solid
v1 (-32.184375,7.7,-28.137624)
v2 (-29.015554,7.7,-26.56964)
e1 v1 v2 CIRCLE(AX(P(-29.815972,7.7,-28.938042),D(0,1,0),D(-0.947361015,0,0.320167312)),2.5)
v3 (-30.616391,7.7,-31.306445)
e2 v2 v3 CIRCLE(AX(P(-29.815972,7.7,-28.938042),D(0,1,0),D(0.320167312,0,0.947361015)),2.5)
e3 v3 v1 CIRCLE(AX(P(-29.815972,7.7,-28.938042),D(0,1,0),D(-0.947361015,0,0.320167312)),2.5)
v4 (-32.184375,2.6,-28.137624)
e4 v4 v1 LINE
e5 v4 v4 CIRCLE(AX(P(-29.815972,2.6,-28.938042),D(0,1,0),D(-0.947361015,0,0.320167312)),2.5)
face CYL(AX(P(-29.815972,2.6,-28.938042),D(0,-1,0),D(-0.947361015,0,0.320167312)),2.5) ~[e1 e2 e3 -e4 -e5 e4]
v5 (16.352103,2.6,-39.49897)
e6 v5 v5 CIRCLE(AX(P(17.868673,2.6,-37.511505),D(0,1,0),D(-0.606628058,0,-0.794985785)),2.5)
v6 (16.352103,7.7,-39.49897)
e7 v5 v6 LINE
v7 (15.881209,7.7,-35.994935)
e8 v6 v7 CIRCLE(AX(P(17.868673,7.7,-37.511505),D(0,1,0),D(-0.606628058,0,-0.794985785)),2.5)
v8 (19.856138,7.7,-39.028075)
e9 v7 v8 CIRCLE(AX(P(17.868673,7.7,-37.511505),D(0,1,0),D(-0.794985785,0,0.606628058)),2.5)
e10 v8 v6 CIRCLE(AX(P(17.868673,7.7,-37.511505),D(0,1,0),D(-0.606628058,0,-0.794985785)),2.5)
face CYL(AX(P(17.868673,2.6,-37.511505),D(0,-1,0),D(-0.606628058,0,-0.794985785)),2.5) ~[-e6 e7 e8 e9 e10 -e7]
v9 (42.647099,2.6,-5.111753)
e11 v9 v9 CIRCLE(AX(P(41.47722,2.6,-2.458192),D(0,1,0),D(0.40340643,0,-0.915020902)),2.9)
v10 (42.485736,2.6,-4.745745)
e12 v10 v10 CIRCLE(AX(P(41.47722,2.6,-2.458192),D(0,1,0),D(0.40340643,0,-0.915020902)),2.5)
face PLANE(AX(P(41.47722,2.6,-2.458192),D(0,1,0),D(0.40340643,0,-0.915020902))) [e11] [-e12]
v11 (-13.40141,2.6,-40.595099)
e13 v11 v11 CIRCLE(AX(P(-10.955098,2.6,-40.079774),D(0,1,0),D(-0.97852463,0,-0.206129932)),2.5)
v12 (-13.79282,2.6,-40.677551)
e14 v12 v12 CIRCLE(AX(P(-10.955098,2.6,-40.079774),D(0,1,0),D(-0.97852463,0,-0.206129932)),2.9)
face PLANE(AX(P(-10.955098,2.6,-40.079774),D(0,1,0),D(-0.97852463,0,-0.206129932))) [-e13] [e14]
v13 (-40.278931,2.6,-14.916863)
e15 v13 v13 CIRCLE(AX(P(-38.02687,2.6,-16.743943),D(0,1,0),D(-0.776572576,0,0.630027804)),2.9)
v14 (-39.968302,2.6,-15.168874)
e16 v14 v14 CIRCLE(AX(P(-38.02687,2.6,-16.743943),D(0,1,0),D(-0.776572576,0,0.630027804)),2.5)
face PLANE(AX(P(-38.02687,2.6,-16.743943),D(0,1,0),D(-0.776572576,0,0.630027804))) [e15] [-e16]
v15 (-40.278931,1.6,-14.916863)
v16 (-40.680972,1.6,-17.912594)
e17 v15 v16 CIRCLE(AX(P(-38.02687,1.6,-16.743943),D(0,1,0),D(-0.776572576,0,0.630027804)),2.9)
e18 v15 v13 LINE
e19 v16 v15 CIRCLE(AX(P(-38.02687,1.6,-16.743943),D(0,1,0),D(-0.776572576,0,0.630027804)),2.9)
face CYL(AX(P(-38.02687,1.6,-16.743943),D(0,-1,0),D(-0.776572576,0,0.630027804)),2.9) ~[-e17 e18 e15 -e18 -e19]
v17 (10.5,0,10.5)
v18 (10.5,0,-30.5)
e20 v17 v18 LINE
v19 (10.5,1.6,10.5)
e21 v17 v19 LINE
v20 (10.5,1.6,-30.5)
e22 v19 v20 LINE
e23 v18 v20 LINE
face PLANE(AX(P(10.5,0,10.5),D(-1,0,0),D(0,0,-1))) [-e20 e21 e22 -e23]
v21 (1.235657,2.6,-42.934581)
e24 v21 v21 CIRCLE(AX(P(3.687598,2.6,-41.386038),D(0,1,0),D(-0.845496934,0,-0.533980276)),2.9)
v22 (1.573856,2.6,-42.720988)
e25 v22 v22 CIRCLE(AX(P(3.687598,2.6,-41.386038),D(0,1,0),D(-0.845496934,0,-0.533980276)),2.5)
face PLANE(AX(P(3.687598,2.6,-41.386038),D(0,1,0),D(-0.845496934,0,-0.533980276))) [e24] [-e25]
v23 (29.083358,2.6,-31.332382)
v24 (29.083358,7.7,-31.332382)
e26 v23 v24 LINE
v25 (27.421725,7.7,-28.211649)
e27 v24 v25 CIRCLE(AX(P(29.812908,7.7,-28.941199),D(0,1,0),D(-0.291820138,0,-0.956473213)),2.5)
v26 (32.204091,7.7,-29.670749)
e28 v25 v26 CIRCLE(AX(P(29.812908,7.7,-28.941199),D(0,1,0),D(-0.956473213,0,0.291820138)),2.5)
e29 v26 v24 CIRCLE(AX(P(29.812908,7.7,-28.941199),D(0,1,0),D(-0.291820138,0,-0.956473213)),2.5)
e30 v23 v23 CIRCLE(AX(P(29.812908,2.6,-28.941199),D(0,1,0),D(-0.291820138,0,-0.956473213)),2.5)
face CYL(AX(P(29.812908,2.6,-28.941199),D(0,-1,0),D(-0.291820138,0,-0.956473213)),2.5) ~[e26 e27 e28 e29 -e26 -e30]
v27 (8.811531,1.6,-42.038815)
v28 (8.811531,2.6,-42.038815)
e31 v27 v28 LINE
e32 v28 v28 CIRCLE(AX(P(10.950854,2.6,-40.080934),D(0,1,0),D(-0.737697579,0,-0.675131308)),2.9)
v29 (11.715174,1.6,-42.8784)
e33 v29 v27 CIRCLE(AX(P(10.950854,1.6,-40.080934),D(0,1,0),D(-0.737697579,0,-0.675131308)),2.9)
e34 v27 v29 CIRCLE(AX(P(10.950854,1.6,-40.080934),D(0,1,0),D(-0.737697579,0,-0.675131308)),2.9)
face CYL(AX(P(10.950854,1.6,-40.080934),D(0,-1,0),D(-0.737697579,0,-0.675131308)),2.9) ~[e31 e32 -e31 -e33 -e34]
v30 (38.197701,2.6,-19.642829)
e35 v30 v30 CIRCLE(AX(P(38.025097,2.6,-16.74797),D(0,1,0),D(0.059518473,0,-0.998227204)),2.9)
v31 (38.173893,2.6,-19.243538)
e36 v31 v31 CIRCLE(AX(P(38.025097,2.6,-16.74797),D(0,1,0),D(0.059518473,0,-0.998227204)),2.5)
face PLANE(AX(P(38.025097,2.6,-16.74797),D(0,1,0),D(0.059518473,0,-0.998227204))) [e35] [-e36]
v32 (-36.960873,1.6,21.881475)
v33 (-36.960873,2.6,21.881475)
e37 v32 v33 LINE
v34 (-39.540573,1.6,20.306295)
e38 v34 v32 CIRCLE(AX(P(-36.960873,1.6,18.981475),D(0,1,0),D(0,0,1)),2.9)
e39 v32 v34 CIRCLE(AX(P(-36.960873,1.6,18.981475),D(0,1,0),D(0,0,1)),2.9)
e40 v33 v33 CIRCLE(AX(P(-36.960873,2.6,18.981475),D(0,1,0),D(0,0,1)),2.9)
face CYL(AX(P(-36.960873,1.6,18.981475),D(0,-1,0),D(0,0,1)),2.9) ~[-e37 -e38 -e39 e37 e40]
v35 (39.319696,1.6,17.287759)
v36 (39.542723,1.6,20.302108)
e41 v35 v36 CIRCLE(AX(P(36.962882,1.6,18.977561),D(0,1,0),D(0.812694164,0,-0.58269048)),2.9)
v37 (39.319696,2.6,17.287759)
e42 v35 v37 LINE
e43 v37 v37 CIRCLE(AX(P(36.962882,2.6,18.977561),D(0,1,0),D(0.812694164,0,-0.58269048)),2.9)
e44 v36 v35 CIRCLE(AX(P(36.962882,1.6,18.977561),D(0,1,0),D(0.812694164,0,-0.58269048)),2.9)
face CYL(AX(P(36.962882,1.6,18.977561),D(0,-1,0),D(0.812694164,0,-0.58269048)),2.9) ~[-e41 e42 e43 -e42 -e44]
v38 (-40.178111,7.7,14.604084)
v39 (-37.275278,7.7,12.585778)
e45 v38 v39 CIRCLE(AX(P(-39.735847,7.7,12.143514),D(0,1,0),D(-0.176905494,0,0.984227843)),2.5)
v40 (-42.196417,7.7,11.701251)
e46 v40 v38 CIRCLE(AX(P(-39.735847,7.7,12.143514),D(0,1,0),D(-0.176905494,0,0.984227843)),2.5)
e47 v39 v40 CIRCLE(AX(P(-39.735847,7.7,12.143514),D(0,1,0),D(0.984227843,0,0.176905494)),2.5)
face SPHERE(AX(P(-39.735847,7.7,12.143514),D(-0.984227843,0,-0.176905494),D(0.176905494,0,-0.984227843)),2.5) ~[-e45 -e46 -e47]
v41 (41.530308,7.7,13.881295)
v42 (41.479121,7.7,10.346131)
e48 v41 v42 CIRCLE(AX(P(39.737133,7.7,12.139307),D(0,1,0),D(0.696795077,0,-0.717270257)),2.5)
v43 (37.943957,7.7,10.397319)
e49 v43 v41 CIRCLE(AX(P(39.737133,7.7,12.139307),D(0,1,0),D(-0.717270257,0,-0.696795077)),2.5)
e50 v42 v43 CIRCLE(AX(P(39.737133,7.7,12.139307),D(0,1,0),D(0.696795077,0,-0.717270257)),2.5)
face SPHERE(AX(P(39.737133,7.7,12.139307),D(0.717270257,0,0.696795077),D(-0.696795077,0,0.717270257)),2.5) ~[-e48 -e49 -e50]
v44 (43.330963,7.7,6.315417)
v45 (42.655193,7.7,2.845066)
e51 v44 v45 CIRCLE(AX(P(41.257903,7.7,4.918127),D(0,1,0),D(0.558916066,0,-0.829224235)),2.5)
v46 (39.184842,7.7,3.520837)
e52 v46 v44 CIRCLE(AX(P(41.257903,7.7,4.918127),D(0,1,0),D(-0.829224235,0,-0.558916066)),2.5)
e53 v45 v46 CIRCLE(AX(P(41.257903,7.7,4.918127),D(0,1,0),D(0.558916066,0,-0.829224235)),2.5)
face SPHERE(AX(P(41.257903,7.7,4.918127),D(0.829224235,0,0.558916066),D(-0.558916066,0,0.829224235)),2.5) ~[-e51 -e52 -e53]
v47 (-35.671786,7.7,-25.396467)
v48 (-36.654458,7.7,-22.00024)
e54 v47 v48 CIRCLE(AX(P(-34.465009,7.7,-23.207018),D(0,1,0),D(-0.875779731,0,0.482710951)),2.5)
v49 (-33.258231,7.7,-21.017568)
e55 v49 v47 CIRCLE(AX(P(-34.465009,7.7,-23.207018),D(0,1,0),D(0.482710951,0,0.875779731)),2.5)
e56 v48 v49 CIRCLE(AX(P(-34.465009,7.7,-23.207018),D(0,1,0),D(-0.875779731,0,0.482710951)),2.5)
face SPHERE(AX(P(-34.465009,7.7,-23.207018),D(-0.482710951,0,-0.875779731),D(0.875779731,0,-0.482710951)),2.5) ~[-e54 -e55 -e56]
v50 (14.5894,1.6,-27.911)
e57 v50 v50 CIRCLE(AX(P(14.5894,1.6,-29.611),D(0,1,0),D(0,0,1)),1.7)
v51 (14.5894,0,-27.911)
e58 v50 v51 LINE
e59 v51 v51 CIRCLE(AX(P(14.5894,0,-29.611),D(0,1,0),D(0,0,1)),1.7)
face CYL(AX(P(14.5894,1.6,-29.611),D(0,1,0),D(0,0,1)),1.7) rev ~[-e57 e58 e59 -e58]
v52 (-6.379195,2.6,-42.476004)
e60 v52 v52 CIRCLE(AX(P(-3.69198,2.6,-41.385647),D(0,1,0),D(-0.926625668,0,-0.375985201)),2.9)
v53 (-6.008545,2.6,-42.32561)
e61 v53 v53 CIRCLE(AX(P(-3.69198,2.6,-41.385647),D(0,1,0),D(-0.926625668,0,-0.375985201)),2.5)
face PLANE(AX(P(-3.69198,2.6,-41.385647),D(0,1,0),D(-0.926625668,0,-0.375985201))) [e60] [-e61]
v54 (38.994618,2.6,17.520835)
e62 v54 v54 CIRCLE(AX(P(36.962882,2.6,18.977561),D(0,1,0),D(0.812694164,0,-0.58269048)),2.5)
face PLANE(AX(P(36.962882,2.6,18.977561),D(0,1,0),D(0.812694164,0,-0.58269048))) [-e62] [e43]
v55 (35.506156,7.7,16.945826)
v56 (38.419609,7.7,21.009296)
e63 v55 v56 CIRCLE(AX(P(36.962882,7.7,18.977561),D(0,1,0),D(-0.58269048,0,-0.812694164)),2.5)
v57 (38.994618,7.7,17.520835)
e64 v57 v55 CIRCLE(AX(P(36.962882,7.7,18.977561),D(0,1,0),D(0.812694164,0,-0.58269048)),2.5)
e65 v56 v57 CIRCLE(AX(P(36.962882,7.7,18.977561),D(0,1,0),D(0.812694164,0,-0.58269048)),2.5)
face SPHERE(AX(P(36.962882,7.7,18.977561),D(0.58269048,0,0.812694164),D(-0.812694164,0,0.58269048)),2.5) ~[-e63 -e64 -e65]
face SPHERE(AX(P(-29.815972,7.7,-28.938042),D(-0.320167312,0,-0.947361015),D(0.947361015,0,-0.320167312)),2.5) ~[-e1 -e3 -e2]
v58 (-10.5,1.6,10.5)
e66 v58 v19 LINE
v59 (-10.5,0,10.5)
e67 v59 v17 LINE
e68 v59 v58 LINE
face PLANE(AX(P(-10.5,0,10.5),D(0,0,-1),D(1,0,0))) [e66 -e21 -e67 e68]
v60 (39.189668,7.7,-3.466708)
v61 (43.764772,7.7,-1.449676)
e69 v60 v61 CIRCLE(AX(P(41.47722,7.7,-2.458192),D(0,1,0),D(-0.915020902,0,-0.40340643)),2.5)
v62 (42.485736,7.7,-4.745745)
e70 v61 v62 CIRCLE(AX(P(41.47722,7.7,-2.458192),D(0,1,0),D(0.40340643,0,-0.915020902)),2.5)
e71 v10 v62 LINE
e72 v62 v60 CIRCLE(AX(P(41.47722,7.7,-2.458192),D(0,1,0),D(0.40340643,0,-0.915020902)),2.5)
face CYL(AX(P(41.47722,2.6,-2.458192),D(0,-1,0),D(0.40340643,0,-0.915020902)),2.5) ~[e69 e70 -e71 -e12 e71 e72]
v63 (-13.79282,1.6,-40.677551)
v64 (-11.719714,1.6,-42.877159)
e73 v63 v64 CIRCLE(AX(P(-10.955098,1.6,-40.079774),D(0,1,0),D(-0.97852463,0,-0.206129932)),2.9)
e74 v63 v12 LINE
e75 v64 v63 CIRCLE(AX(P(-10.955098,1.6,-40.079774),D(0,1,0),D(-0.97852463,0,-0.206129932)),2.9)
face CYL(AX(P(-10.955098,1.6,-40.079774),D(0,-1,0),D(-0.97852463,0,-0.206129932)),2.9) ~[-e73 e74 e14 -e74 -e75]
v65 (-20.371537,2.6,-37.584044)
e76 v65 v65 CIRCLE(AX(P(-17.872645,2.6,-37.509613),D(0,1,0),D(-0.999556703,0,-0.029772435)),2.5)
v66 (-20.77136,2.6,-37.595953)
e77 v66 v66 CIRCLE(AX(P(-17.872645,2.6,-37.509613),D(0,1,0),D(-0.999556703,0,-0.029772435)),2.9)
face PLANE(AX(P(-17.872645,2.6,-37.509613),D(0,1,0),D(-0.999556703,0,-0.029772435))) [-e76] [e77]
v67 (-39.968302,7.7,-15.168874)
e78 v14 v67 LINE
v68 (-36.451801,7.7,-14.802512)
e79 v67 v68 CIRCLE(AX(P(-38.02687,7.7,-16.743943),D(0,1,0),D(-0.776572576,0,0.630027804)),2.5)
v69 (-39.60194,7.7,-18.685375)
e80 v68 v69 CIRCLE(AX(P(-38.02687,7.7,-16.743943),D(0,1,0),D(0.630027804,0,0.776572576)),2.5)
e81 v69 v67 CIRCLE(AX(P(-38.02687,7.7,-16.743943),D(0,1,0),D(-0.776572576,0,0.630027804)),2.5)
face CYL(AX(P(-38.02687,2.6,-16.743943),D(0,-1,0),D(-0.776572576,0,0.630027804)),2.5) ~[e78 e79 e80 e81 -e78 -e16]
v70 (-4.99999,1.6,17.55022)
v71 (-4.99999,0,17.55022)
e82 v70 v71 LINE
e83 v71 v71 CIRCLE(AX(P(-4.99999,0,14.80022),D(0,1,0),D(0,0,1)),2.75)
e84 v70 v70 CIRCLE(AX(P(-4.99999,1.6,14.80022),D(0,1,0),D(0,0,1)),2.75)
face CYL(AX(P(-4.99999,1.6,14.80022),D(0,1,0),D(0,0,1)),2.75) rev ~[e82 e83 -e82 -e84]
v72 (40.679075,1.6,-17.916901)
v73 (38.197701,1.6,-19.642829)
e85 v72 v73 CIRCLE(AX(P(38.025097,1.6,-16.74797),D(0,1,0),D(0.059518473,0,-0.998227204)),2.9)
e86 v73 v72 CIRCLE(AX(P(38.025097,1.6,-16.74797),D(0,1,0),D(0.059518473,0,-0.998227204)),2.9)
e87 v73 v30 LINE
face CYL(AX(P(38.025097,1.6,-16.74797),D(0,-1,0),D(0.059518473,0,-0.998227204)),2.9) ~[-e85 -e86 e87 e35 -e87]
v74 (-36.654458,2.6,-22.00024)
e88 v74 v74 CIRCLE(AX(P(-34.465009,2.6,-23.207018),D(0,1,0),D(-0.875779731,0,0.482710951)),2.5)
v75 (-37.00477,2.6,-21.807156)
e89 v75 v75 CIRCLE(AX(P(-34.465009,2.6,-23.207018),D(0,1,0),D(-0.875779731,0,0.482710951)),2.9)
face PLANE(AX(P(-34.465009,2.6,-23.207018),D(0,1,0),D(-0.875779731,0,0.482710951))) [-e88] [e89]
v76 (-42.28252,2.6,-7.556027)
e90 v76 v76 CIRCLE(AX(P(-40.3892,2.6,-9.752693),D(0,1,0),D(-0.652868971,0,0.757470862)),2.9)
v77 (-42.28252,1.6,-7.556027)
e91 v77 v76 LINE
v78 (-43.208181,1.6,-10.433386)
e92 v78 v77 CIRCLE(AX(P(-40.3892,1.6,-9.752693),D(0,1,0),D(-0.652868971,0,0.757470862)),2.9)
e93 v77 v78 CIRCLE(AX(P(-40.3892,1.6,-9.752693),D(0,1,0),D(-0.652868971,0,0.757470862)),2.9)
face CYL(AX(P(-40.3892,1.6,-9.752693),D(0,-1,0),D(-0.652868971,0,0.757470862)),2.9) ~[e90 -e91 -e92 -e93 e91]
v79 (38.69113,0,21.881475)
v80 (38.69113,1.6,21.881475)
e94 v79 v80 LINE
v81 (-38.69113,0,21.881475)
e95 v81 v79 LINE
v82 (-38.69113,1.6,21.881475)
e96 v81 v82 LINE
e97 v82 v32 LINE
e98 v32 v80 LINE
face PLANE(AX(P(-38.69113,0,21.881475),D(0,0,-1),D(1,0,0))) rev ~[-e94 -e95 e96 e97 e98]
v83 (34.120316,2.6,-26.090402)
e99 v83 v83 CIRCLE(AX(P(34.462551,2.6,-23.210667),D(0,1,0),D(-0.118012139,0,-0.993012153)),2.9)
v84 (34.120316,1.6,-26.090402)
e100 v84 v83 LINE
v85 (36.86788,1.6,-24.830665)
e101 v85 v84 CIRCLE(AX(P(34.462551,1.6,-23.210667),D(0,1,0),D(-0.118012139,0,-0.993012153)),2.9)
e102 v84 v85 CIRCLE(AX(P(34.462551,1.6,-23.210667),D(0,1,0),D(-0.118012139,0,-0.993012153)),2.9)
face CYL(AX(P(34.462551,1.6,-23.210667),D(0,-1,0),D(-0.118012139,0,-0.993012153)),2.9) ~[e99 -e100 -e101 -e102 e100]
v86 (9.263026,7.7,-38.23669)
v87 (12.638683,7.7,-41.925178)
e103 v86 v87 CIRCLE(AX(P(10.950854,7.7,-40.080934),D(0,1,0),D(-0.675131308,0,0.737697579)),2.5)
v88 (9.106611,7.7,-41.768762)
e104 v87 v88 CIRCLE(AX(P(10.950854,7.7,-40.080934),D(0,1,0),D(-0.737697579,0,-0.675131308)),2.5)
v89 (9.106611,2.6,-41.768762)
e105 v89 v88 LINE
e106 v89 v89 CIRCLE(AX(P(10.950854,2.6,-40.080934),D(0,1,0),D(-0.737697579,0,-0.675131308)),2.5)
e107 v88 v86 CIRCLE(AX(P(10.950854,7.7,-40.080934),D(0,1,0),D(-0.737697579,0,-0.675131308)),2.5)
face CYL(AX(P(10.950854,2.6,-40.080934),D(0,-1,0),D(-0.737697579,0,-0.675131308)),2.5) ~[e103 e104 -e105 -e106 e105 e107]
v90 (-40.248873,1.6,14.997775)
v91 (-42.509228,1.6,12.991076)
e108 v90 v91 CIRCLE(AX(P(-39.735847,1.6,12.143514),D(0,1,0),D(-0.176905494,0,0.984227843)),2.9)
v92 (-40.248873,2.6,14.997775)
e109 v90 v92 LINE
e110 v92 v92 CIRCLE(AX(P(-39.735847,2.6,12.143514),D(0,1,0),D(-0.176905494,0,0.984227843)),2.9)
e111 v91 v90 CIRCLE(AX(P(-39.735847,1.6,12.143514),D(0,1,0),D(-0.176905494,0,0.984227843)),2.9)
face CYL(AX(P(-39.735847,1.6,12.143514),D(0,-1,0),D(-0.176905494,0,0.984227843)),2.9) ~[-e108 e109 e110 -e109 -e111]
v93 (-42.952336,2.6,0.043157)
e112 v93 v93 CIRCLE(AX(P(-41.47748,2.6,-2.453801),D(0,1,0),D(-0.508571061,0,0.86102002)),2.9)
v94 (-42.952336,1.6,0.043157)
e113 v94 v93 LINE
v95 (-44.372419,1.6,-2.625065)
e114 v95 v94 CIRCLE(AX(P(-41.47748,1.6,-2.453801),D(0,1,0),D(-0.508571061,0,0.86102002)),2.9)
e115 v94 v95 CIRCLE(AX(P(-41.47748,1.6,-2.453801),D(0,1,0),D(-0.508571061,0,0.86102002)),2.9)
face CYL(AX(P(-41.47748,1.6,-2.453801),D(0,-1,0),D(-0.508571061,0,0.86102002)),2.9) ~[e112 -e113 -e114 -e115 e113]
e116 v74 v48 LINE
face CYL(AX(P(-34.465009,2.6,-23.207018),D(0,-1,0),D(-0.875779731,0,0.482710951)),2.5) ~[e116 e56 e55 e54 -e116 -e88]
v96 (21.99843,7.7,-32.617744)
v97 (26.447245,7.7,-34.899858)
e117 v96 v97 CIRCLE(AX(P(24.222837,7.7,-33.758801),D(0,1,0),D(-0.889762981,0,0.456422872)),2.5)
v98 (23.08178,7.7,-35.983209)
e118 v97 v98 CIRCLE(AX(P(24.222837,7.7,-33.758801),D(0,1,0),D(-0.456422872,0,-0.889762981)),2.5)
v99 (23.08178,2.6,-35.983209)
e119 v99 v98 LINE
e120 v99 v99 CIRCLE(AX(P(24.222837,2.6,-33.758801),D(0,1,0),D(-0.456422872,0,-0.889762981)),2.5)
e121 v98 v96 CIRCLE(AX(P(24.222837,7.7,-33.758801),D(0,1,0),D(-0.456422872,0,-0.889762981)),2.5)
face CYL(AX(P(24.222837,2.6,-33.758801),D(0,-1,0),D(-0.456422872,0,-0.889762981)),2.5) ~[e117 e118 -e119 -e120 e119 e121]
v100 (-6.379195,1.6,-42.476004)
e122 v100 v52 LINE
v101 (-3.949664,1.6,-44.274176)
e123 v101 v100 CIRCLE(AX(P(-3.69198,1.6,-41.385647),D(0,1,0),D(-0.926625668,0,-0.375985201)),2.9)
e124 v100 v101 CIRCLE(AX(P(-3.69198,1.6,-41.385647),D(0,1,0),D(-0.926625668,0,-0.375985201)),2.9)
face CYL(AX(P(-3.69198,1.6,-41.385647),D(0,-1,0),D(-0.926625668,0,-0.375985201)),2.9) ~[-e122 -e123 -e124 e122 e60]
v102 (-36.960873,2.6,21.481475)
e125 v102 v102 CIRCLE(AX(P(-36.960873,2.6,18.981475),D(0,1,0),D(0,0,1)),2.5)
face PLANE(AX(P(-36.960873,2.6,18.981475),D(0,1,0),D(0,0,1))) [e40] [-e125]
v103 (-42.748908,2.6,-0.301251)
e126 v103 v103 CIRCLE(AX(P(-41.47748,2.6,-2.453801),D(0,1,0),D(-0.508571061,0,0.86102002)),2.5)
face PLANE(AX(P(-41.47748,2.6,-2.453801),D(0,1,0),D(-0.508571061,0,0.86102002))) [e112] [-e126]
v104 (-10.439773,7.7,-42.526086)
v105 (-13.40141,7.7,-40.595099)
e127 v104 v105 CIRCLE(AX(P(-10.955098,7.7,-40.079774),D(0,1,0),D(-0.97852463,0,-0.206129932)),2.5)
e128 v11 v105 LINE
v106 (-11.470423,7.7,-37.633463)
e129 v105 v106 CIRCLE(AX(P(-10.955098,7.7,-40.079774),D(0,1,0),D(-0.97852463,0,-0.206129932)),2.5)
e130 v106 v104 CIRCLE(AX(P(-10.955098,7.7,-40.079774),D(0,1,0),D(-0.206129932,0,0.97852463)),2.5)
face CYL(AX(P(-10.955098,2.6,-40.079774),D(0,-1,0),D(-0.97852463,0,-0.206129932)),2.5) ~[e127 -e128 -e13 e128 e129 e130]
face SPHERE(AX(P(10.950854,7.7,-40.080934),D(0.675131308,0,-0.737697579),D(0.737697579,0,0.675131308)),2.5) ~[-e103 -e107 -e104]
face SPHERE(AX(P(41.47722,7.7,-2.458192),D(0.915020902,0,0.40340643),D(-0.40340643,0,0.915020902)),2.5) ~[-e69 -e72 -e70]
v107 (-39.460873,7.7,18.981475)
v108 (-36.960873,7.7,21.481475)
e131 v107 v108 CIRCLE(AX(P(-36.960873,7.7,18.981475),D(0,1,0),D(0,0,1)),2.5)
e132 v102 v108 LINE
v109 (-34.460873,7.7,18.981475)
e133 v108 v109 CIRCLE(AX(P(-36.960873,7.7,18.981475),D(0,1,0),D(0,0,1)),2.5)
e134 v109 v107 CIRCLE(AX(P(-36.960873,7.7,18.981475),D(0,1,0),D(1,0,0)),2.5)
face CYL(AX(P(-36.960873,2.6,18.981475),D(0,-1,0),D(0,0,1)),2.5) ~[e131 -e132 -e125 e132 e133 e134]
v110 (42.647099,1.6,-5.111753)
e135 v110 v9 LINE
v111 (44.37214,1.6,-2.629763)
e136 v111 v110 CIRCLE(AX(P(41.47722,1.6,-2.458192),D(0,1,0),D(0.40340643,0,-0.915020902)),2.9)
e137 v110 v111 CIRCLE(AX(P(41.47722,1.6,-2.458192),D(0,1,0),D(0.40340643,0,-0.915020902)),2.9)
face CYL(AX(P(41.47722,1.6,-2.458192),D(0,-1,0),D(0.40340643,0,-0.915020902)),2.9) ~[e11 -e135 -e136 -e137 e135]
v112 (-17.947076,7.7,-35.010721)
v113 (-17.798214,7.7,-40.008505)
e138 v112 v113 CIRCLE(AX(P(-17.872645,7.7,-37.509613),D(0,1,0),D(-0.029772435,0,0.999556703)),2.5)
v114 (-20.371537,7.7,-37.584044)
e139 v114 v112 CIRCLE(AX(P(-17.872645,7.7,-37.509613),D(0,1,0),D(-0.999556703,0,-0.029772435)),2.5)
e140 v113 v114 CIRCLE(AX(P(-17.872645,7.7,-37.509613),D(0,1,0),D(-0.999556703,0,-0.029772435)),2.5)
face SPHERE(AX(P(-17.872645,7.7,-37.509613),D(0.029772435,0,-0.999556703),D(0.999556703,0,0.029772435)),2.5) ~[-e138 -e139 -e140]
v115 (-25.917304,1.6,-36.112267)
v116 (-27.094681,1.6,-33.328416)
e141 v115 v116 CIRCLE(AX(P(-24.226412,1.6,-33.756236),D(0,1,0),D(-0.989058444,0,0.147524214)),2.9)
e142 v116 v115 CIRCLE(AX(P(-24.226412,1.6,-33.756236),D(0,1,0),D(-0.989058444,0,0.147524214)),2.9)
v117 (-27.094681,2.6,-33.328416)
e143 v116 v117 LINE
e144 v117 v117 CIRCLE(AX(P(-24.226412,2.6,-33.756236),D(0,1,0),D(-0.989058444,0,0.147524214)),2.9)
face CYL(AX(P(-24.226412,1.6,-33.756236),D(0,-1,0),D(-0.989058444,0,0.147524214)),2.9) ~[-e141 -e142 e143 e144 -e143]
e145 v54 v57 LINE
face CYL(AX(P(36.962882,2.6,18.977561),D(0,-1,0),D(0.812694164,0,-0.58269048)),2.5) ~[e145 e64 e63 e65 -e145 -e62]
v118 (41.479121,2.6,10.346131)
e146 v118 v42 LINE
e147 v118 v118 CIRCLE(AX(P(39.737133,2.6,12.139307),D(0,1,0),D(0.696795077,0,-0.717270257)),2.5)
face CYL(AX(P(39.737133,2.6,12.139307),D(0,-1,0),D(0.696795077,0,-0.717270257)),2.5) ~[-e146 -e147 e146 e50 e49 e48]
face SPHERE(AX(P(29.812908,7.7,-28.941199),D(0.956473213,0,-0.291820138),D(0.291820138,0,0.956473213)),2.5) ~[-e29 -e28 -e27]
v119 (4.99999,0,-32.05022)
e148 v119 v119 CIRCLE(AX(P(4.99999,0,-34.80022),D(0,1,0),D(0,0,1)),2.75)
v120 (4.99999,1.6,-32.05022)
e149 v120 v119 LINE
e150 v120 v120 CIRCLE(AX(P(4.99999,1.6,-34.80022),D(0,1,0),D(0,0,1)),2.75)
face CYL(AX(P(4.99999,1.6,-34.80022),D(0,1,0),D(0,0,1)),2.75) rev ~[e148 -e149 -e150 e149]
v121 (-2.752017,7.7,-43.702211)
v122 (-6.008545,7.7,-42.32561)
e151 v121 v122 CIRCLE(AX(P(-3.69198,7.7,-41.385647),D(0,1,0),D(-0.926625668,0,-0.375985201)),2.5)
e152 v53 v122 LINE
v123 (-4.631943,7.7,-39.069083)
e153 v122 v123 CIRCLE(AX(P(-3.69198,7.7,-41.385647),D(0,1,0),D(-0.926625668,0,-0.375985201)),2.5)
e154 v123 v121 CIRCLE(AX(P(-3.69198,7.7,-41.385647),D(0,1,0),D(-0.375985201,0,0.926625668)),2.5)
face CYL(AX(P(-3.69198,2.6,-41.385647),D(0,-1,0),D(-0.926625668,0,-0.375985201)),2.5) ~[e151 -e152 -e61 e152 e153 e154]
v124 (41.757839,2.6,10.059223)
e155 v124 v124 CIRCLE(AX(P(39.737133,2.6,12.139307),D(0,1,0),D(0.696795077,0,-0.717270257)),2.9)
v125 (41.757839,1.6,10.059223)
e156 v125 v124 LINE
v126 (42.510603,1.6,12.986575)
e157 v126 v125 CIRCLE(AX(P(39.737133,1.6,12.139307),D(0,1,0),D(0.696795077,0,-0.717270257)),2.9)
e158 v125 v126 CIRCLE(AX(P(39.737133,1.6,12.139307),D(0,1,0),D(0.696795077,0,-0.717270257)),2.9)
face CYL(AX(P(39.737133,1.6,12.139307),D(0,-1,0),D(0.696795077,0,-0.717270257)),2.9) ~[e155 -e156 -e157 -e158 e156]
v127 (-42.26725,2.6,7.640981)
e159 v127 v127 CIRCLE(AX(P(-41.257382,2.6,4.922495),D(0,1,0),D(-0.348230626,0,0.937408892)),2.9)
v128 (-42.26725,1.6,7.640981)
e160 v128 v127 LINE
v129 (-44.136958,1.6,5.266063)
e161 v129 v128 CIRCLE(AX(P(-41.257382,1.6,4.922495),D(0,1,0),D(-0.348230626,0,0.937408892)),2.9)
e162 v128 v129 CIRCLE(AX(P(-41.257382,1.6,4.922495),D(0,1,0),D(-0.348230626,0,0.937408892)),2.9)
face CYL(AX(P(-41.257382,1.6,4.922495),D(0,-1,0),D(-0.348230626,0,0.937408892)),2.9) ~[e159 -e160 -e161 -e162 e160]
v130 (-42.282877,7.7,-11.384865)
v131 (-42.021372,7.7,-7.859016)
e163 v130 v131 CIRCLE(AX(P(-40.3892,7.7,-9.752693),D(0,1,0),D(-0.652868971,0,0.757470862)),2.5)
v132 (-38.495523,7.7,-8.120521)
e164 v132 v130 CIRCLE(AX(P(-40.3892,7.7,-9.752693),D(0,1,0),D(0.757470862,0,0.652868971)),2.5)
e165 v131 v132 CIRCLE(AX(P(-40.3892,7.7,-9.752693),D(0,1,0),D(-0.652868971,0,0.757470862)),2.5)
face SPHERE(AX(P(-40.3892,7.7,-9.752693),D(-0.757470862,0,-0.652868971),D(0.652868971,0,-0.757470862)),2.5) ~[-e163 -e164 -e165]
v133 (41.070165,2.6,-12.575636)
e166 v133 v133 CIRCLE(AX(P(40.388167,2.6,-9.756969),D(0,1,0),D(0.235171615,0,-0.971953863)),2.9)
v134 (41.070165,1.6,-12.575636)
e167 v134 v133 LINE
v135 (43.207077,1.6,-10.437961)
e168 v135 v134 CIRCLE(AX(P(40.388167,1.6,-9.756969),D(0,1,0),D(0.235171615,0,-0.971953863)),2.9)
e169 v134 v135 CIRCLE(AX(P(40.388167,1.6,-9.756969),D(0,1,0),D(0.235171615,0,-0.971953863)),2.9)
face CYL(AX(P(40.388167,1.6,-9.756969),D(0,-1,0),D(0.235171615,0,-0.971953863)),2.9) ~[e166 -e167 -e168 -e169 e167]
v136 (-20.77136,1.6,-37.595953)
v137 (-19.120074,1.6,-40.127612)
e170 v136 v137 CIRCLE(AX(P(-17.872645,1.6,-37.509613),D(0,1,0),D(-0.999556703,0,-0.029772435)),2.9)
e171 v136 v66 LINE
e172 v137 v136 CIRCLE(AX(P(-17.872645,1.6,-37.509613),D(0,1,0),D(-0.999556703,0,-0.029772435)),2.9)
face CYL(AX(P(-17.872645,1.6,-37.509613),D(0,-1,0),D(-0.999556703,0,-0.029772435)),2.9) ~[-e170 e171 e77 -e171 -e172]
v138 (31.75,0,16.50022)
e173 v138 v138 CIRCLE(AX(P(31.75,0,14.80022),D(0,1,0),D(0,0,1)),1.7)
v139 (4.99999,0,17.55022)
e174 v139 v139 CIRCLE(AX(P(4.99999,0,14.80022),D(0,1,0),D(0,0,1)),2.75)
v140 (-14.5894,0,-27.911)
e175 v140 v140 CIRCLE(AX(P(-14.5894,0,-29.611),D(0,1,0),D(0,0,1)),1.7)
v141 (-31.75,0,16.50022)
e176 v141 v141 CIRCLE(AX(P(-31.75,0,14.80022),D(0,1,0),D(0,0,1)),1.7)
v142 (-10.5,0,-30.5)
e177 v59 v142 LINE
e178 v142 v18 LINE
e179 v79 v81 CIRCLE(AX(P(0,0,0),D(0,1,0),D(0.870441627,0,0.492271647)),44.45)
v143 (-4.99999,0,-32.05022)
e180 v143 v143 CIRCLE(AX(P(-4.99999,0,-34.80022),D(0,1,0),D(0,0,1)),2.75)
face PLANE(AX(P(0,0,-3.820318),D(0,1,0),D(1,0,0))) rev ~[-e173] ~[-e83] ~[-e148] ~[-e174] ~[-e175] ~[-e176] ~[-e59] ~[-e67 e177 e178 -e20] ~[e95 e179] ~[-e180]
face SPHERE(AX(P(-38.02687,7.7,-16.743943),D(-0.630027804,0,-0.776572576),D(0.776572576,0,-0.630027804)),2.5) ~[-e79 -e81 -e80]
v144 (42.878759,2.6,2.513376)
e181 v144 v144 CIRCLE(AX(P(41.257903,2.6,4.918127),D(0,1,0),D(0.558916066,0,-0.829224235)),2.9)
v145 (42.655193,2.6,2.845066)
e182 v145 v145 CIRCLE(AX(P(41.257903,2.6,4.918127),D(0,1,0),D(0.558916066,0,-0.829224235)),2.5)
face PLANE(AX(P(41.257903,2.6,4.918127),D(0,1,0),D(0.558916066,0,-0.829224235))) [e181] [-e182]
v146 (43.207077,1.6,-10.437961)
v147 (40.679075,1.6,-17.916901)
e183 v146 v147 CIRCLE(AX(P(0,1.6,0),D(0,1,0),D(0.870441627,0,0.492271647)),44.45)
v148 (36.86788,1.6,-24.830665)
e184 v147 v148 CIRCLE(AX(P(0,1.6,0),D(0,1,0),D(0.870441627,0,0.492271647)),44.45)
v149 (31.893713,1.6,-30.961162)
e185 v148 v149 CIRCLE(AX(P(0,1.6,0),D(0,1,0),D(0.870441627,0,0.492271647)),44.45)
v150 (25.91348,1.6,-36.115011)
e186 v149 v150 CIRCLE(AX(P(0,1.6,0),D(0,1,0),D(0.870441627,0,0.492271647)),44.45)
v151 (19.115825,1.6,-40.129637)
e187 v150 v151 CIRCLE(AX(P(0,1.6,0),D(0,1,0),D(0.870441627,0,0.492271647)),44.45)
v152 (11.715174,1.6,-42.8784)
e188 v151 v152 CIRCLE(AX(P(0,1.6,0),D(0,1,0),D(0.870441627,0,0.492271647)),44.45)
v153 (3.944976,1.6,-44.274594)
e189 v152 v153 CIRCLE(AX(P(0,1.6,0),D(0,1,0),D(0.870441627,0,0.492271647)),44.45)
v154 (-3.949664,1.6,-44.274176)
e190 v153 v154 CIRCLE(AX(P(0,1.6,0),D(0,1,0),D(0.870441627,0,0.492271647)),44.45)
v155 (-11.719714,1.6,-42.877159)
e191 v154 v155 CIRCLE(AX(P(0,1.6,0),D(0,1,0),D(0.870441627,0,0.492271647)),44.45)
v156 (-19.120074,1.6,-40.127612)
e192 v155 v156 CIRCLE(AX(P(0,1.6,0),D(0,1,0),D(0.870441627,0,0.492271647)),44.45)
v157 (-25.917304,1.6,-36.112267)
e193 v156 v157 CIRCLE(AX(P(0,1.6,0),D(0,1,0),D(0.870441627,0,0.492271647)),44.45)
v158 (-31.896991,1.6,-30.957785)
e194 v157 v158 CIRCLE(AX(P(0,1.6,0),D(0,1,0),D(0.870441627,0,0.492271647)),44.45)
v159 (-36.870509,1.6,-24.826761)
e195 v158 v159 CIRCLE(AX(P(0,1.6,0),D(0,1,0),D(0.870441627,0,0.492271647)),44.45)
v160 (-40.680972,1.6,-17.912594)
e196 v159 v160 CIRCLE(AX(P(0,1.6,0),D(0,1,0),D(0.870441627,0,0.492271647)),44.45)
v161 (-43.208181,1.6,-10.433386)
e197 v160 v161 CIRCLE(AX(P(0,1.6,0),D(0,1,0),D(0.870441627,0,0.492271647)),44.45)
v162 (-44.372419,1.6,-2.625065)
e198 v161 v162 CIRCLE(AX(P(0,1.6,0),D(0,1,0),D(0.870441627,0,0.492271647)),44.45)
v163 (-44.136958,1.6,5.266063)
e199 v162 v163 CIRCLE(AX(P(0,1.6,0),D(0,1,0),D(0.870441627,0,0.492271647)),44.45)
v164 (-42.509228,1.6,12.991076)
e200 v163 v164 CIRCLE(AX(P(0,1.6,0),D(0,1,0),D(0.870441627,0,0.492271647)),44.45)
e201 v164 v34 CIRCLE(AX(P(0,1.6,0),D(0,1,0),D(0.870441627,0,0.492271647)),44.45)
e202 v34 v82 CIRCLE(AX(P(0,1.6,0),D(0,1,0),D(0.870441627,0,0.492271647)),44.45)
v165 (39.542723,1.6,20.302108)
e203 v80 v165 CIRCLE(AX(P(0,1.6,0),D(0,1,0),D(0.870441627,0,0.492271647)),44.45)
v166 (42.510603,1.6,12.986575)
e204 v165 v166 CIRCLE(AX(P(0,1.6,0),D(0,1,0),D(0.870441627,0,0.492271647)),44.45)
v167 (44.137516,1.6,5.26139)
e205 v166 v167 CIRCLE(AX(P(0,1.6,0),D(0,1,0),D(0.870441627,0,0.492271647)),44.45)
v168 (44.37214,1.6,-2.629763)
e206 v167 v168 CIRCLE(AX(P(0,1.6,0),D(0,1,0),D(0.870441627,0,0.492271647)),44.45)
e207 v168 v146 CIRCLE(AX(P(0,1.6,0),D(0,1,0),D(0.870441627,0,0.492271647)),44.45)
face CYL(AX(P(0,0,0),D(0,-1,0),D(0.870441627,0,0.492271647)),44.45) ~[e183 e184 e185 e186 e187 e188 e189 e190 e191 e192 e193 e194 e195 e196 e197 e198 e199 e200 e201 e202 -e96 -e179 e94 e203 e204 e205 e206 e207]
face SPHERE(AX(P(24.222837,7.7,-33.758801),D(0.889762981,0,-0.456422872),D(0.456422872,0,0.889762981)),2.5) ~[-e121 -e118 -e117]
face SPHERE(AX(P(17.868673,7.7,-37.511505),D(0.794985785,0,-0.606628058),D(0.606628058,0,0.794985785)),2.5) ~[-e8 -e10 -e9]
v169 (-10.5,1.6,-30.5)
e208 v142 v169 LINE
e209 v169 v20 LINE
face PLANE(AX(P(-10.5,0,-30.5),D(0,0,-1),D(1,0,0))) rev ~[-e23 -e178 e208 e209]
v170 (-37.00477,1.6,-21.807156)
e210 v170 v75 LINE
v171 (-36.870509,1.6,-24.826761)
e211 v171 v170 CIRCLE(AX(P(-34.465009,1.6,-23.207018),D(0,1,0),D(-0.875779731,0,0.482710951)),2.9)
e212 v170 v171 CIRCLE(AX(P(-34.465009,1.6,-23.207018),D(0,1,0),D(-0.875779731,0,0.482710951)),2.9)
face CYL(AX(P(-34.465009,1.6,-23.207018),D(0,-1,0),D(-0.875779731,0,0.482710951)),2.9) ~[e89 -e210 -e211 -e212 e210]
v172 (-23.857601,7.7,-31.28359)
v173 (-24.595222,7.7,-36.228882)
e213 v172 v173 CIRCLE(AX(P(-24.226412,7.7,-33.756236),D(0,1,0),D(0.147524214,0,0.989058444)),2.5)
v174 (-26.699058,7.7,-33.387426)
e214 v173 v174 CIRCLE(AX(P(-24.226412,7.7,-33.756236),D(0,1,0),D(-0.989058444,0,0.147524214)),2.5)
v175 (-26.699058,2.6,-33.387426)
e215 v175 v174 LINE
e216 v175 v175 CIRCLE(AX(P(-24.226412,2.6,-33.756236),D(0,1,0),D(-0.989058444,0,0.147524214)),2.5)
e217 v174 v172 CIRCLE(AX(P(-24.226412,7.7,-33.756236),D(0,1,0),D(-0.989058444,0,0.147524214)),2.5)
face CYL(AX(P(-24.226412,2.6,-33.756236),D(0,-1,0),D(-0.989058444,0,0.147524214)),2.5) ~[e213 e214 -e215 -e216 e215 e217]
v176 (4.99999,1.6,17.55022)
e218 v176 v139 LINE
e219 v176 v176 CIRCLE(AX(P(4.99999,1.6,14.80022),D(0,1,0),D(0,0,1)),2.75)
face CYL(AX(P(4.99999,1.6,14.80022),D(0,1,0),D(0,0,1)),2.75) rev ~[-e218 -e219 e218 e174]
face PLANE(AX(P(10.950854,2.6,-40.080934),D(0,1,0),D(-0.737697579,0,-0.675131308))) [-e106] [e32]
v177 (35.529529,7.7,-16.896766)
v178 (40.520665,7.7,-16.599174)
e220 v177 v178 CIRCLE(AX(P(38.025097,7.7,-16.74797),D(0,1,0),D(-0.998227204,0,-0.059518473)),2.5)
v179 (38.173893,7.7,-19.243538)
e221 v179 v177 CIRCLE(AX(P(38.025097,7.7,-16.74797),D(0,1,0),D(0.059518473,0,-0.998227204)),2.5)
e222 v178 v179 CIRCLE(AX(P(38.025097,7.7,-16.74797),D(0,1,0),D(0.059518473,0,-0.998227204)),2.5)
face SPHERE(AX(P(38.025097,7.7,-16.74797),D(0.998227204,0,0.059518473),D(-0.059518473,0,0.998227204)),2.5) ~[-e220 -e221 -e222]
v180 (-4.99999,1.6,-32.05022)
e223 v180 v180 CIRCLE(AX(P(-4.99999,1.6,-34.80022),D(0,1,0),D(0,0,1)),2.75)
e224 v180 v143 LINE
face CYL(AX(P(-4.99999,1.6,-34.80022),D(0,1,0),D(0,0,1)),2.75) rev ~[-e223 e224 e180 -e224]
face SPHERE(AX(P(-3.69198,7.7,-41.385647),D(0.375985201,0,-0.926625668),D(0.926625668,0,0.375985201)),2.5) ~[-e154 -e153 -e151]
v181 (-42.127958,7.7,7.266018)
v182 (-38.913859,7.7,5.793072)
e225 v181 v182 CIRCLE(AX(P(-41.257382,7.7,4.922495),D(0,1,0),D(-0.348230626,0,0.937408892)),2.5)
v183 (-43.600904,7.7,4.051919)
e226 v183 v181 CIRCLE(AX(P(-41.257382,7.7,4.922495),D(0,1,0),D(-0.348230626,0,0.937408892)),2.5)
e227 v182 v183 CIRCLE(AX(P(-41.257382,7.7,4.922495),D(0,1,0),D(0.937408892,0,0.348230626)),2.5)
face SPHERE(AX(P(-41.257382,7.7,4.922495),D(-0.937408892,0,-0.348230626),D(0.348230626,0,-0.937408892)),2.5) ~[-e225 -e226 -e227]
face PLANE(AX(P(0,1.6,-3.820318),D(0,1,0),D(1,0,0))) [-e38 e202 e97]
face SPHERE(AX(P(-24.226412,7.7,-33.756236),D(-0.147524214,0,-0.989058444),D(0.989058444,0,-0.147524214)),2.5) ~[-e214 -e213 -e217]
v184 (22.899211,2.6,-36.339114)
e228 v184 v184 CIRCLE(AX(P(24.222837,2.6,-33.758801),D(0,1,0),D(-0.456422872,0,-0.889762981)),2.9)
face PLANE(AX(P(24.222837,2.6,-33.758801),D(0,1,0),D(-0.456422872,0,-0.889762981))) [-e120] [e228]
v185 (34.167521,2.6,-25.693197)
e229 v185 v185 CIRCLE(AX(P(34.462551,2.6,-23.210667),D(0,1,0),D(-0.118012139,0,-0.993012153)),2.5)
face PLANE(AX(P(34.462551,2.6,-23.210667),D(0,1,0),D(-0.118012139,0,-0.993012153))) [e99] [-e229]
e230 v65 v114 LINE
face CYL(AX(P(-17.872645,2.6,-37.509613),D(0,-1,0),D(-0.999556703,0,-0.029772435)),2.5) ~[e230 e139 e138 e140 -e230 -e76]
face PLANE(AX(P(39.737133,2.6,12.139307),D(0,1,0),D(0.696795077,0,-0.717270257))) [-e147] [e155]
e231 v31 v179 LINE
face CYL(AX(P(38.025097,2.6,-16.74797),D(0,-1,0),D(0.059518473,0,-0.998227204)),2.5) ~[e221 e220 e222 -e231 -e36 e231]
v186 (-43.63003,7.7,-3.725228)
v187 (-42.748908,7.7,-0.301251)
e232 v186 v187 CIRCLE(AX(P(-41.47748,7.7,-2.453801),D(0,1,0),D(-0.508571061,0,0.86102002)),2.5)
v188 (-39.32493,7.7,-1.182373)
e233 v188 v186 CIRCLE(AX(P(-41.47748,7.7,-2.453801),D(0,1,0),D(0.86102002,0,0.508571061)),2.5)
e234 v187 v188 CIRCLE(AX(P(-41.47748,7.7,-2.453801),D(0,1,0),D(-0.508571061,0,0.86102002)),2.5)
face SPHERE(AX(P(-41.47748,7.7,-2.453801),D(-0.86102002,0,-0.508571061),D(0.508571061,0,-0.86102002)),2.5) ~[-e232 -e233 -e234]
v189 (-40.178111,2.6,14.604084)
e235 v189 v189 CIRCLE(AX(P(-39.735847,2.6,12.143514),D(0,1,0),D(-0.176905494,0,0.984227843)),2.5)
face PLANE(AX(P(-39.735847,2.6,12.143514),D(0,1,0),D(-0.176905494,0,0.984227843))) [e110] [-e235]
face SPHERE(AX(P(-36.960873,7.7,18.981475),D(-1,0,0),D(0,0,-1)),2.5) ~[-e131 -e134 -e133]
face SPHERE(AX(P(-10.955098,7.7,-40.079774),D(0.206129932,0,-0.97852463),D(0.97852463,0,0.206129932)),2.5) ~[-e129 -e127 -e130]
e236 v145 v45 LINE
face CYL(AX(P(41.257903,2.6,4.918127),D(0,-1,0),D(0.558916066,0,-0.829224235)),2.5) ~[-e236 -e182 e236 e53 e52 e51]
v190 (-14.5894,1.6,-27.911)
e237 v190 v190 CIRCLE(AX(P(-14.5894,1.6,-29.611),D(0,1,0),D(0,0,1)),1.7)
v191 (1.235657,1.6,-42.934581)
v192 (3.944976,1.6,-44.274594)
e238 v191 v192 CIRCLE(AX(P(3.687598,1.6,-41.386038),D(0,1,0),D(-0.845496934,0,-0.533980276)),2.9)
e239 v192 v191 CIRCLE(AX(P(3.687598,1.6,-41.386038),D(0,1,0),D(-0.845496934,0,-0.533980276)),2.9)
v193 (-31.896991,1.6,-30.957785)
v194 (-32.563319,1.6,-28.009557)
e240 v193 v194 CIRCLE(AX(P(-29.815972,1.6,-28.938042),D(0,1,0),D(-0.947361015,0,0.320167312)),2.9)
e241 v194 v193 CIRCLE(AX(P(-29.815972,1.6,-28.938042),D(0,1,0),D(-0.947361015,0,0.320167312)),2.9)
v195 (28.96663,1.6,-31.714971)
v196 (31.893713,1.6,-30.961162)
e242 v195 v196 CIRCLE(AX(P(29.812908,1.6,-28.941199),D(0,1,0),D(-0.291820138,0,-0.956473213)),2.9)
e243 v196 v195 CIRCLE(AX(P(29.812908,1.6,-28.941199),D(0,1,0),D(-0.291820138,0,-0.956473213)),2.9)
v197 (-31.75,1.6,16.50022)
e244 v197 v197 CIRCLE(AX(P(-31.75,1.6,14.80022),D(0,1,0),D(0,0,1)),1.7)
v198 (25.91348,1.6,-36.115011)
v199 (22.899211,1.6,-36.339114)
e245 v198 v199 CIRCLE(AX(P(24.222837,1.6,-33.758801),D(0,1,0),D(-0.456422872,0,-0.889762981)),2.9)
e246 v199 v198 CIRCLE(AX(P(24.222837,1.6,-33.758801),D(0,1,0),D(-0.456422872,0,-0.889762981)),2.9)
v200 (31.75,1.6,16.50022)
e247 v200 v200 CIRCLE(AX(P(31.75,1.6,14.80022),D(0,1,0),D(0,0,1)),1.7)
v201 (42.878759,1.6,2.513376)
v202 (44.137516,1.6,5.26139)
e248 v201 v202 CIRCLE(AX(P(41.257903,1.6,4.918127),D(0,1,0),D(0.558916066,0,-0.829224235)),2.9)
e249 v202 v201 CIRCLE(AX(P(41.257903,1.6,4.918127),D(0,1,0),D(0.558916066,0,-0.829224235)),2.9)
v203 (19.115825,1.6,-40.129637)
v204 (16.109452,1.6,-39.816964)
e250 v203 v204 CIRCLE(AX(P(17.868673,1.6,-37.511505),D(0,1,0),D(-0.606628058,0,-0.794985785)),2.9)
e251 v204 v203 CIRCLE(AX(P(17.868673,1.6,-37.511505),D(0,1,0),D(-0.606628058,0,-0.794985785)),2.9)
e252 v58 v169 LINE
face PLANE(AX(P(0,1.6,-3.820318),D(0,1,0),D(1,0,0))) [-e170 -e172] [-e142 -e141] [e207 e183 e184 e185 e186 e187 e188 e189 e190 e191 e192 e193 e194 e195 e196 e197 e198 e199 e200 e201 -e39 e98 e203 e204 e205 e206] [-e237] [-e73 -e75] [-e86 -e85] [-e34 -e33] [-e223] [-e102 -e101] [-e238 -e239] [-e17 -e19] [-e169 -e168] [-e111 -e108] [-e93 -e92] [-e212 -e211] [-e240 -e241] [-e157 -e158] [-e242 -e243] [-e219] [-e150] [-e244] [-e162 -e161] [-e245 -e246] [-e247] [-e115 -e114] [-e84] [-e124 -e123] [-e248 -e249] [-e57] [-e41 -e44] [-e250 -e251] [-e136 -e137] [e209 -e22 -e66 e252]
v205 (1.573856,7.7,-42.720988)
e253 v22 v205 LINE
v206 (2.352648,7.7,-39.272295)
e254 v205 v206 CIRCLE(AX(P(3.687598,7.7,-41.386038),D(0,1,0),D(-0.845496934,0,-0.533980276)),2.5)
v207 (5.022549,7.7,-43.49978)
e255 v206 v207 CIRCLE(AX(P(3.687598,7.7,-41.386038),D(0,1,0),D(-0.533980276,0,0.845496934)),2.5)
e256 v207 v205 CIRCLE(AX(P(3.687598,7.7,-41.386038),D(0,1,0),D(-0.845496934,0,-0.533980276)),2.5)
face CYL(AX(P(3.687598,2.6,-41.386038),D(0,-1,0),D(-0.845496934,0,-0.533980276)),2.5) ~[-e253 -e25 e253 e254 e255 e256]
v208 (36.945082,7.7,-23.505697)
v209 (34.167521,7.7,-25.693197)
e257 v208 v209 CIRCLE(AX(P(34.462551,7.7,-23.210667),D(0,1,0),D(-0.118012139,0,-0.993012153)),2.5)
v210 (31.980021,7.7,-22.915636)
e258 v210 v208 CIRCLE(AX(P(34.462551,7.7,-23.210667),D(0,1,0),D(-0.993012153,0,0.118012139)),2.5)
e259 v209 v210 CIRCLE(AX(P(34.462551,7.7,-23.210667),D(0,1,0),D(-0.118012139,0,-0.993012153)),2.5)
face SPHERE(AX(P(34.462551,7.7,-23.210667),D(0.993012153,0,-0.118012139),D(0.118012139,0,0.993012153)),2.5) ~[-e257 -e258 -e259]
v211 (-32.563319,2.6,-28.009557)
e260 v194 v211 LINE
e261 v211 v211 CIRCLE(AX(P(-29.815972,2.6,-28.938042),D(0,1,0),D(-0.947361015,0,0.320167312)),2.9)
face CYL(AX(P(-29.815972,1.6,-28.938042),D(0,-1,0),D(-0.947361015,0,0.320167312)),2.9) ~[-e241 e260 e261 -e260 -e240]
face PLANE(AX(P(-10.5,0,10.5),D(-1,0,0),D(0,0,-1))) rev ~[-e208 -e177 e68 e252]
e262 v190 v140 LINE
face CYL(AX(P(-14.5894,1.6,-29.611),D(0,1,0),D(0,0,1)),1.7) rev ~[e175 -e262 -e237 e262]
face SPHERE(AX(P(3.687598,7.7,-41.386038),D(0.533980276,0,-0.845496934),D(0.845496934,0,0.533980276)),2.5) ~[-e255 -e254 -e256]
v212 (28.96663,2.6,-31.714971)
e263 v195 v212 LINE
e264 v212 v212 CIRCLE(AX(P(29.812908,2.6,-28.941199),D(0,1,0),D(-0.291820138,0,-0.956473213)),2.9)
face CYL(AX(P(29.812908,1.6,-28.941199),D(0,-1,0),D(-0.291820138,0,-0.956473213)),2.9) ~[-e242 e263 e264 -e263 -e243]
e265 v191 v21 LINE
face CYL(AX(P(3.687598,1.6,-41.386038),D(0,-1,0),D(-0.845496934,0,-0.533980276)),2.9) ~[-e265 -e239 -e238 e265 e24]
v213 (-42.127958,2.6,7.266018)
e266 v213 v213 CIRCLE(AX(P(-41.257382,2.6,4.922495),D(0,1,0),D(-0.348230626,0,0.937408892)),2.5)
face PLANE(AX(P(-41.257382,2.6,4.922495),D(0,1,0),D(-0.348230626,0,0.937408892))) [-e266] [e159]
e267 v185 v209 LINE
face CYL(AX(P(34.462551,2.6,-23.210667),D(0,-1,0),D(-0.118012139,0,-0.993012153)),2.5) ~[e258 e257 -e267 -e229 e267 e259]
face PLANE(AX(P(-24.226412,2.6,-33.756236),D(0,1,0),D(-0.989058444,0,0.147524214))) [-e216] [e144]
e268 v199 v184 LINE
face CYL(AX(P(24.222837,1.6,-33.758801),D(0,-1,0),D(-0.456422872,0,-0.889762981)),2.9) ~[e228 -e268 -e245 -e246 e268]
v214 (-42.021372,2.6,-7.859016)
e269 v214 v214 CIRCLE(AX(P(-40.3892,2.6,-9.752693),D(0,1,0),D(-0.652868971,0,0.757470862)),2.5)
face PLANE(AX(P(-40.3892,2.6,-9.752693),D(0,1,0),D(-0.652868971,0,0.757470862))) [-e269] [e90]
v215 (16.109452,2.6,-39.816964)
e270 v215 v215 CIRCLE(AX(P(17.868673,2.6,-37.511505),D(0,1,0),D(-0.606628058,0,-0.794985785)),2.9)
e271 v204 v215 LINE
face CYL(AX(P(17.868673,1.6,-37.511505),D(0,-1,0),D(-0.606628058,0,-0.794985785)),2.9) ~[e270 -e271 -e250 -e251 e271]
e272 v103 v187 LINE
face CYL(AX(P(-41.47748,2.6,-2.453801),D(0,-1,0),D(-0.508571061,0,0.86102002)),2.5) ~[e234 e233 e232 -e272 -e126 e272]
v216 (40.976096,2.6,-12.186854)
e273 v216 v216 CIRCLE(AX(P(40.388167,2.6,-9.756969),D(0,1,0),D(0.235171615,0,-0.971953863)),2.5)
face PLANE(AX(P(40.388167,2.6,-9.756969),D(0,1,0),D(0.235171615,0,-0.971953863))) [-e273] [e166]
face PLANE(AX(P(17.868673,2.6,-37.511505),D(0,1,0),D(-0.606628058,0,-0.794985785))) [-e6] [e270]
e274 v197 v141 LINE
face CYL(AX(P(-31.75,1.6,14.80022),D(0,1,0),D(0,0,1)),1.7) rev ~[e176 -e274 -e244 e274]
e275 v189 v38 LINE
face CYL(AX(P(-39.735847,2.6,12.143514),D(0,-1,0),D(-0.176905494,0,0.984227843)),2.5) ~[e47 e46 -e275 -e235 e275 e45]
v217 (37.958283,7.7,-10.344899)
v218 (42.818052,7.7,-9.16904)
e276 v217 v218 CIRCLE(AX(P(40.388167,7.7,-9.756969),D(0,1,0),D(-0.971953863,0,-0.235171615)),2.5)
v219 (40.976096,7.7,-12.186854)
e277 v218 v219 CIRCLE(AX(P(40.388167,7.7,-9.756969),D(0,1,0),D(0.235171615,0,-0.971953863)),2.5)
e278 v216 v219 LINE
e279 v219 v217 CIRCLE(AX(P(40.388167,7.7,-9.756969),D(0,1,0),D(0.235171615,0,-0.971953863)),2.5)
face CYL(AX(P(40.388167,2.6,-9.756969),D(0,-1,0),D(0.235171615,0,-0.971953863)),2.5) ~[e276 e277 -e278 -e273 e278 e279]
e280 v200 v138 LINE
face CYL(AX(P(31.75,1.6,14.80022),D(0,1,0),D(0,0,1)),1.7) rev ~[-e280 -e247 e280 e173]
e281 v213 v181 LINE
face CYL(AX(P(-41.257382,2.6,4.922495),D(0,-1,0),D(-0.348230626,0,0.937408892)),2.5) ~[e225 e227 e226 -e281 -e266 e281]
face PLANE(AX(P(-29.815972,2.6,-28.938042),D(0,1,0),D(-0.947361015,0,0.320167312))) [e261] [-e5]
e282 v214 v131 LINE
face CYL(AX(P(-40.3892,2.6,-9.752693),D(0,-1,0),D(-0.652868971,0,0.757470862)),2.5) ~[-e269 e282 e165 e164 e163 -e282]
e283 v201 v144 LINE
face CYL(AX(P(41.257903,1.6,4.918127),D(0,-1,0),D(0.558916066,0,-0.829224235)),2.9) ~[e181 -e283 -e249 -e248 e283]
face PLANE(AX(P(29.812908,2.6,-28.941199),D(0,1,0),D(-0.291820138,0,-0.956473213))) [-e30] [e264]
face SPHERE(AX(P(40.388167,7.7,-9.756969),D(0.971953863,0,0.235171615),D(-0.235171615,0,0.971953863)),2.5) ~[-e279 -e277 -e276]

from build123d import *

# Parameters (mm, degrees)
SKETCH2_W           = 21
SKETCH2_H           = 41
BOSS_EXTRUDE1_DEPTH = 1.6
SKETCH3_R           = 2.9
BOSS_EXTRUDE3_DEPTH = 1
SKETCH4_R           = 2.5
BOSS_EXTRUDE4_DEPTH = 5.1
REVOLVE1_ANGLE      = 180
CIRPATTERN1_COUNT   = 24
CIRPATTERN1_ANGLE   = 234.36
SKETCH6_R           = 2.75
SKETCH6_R_2         = 1.7
CUT_EXTRUDE1_DEPTH  = 1.6


with BuildPart() as part:
    # Sketch2 → Boss-Extrude1 (new body)
    with BuildSketch(Plane(origin=(0, 0, 0), x_dir=(1, 0, 0), z_dir=(0, 1, 0))):
        with BuildLine():
            Line((-38.691130312, -21.881474704), (38.691130312, -21.881474704))
            ThreePointArc((38.691130312, -21.881474704), (0, 44.45), (-38.691130312, -21.881474704))
        make_face()
        with Locations((0, 10)):
            Rectangle(SKETCH2_W, SKETCH2_H, mode=Mode.SUBTRACT)
    extrude(amount=BOSS_EXTRUDE1_DEPTH)

    # Sketch3 → Boss-Extrude3 (add)
    with BuildSketch(Plane(origin=(0, 1.6, 0), x_dir=(1, 0, 0), z_dir=(0, 1, 0))):
        with Locations(Location((-36.960872799, -18.981474704, 0), (0, 0, 270))):
            Circle(SKETCH3_R)
    boss_extrude3 = extrude(amount=BOSS_EXTRUDE3_DEPTH)

    # Sketch4 → Boss-Extrude4 (add)
    with BuildSketch(Plane(origin=(0, 2.6, 0), x_dir=(1, 0, 0), z_dir=(0, 1, 0))):
        with Locations(Location((-36.960872799, -18.981474704, 0), (0, 0, 270))):
            Circle(SKETCH4_R)
    boss_extrude4 = extrude(amount=BOSS_EXTRUDE4_DEPTH)

    # Sketch5 → Revolve1 (revolve)
    with BuildSketch(Plane(origin=(0, 7.7, 0), x_dir=(1, 0, 0), z_dir=(0, 1, 0))):
        with BuildLine():
            Line((-39.460872799, -18.981474704), (-34.460872799, -18.981474704))
            ThreePointArc((-34.460872799, -18.981474704), (-36.960872799, -16.481474704), (-39.460872799, -18.981474704))
        make_face()
    revolve1 = revolve(axis=Axis((-39.460872799, 7.7, 18.981474704), (1, 0, 0)), revolution_arc=REVOLVE1_ANGLE)

    # CirPattern1: Boss-Extrude3, Boss-Extrude4, Revolve1 ×24 about axis
    cirpattern1_axis = Axis((0, 0, 0), (0, -1, 0))
    add([boss_extrude3.rotate(cirpattern1_axis, i * CIRPATTERN1_ANGLE / (CIRPATTERN1_COUNT - 1)) for i in range(1, CIRPATTERN1_COUNT)])
    add([boss_extrude4.rotate(cirpattern1_axis, i * CIRPATTERN1_ANGLE / (CIRPATTERN1_COUNT - 1)) for i in range(1, CIRPATTERN1_COUNT)])
    add([revolve1.rotate(cirpattern1_axis, i * CIRPATTERN1_ANGLE / (CIRPATTERN1_COUNT - 1)) for i in range(1, CIRPATTERN1_COUNT)])

    # Sketch6 → Cut-Extrude1 (cut)
    with BuildSketch(Plane(origin=(0, 1.6, 0), x_dir=(1, 0, 0), z_dir=(0, 1, 0))):
        with Locations(Location((4.99999, 34.80022, 0), (0, 0, 270))):
            Circle(SKETCH6_R)
        with Locations(Location((-4.99999, 34.80022, 0), (0, 0, 270))):
            Circle(SKETCH6_R)
        with Locations(Location((-31.75, -14.80022, 0), (0, 0, 270))):
            Circle(SKETCH6_R_2)
        with Locations(Location((4.99999, -14.80022, 0), (0, 0, 270))):
            Circle(SKETCH6_R)
        with Locations(Location((-4.99999, -14.80022, 0), (0, 0, 270))):
            Circle(SKETCH6_R)
        with Locations(Location((31.75, -14.80022, 0), (0, 0, 270))):
            Circle(SKETCH6_R_2)
        with Locations(Location((14.5894, 29.611, 0), (0, 0, 270))):
            Circle(SKETCH6_R_2)
        with Locations(Location((-14.5894, 29.611, 0), (0, 0, 270))):
            Circle(SKETCH6_R_2)
    extrude(amount=-CUT_EXTRUDE1_DEPTH, mode=Mode.SUBTRACT)


solid = part.part
